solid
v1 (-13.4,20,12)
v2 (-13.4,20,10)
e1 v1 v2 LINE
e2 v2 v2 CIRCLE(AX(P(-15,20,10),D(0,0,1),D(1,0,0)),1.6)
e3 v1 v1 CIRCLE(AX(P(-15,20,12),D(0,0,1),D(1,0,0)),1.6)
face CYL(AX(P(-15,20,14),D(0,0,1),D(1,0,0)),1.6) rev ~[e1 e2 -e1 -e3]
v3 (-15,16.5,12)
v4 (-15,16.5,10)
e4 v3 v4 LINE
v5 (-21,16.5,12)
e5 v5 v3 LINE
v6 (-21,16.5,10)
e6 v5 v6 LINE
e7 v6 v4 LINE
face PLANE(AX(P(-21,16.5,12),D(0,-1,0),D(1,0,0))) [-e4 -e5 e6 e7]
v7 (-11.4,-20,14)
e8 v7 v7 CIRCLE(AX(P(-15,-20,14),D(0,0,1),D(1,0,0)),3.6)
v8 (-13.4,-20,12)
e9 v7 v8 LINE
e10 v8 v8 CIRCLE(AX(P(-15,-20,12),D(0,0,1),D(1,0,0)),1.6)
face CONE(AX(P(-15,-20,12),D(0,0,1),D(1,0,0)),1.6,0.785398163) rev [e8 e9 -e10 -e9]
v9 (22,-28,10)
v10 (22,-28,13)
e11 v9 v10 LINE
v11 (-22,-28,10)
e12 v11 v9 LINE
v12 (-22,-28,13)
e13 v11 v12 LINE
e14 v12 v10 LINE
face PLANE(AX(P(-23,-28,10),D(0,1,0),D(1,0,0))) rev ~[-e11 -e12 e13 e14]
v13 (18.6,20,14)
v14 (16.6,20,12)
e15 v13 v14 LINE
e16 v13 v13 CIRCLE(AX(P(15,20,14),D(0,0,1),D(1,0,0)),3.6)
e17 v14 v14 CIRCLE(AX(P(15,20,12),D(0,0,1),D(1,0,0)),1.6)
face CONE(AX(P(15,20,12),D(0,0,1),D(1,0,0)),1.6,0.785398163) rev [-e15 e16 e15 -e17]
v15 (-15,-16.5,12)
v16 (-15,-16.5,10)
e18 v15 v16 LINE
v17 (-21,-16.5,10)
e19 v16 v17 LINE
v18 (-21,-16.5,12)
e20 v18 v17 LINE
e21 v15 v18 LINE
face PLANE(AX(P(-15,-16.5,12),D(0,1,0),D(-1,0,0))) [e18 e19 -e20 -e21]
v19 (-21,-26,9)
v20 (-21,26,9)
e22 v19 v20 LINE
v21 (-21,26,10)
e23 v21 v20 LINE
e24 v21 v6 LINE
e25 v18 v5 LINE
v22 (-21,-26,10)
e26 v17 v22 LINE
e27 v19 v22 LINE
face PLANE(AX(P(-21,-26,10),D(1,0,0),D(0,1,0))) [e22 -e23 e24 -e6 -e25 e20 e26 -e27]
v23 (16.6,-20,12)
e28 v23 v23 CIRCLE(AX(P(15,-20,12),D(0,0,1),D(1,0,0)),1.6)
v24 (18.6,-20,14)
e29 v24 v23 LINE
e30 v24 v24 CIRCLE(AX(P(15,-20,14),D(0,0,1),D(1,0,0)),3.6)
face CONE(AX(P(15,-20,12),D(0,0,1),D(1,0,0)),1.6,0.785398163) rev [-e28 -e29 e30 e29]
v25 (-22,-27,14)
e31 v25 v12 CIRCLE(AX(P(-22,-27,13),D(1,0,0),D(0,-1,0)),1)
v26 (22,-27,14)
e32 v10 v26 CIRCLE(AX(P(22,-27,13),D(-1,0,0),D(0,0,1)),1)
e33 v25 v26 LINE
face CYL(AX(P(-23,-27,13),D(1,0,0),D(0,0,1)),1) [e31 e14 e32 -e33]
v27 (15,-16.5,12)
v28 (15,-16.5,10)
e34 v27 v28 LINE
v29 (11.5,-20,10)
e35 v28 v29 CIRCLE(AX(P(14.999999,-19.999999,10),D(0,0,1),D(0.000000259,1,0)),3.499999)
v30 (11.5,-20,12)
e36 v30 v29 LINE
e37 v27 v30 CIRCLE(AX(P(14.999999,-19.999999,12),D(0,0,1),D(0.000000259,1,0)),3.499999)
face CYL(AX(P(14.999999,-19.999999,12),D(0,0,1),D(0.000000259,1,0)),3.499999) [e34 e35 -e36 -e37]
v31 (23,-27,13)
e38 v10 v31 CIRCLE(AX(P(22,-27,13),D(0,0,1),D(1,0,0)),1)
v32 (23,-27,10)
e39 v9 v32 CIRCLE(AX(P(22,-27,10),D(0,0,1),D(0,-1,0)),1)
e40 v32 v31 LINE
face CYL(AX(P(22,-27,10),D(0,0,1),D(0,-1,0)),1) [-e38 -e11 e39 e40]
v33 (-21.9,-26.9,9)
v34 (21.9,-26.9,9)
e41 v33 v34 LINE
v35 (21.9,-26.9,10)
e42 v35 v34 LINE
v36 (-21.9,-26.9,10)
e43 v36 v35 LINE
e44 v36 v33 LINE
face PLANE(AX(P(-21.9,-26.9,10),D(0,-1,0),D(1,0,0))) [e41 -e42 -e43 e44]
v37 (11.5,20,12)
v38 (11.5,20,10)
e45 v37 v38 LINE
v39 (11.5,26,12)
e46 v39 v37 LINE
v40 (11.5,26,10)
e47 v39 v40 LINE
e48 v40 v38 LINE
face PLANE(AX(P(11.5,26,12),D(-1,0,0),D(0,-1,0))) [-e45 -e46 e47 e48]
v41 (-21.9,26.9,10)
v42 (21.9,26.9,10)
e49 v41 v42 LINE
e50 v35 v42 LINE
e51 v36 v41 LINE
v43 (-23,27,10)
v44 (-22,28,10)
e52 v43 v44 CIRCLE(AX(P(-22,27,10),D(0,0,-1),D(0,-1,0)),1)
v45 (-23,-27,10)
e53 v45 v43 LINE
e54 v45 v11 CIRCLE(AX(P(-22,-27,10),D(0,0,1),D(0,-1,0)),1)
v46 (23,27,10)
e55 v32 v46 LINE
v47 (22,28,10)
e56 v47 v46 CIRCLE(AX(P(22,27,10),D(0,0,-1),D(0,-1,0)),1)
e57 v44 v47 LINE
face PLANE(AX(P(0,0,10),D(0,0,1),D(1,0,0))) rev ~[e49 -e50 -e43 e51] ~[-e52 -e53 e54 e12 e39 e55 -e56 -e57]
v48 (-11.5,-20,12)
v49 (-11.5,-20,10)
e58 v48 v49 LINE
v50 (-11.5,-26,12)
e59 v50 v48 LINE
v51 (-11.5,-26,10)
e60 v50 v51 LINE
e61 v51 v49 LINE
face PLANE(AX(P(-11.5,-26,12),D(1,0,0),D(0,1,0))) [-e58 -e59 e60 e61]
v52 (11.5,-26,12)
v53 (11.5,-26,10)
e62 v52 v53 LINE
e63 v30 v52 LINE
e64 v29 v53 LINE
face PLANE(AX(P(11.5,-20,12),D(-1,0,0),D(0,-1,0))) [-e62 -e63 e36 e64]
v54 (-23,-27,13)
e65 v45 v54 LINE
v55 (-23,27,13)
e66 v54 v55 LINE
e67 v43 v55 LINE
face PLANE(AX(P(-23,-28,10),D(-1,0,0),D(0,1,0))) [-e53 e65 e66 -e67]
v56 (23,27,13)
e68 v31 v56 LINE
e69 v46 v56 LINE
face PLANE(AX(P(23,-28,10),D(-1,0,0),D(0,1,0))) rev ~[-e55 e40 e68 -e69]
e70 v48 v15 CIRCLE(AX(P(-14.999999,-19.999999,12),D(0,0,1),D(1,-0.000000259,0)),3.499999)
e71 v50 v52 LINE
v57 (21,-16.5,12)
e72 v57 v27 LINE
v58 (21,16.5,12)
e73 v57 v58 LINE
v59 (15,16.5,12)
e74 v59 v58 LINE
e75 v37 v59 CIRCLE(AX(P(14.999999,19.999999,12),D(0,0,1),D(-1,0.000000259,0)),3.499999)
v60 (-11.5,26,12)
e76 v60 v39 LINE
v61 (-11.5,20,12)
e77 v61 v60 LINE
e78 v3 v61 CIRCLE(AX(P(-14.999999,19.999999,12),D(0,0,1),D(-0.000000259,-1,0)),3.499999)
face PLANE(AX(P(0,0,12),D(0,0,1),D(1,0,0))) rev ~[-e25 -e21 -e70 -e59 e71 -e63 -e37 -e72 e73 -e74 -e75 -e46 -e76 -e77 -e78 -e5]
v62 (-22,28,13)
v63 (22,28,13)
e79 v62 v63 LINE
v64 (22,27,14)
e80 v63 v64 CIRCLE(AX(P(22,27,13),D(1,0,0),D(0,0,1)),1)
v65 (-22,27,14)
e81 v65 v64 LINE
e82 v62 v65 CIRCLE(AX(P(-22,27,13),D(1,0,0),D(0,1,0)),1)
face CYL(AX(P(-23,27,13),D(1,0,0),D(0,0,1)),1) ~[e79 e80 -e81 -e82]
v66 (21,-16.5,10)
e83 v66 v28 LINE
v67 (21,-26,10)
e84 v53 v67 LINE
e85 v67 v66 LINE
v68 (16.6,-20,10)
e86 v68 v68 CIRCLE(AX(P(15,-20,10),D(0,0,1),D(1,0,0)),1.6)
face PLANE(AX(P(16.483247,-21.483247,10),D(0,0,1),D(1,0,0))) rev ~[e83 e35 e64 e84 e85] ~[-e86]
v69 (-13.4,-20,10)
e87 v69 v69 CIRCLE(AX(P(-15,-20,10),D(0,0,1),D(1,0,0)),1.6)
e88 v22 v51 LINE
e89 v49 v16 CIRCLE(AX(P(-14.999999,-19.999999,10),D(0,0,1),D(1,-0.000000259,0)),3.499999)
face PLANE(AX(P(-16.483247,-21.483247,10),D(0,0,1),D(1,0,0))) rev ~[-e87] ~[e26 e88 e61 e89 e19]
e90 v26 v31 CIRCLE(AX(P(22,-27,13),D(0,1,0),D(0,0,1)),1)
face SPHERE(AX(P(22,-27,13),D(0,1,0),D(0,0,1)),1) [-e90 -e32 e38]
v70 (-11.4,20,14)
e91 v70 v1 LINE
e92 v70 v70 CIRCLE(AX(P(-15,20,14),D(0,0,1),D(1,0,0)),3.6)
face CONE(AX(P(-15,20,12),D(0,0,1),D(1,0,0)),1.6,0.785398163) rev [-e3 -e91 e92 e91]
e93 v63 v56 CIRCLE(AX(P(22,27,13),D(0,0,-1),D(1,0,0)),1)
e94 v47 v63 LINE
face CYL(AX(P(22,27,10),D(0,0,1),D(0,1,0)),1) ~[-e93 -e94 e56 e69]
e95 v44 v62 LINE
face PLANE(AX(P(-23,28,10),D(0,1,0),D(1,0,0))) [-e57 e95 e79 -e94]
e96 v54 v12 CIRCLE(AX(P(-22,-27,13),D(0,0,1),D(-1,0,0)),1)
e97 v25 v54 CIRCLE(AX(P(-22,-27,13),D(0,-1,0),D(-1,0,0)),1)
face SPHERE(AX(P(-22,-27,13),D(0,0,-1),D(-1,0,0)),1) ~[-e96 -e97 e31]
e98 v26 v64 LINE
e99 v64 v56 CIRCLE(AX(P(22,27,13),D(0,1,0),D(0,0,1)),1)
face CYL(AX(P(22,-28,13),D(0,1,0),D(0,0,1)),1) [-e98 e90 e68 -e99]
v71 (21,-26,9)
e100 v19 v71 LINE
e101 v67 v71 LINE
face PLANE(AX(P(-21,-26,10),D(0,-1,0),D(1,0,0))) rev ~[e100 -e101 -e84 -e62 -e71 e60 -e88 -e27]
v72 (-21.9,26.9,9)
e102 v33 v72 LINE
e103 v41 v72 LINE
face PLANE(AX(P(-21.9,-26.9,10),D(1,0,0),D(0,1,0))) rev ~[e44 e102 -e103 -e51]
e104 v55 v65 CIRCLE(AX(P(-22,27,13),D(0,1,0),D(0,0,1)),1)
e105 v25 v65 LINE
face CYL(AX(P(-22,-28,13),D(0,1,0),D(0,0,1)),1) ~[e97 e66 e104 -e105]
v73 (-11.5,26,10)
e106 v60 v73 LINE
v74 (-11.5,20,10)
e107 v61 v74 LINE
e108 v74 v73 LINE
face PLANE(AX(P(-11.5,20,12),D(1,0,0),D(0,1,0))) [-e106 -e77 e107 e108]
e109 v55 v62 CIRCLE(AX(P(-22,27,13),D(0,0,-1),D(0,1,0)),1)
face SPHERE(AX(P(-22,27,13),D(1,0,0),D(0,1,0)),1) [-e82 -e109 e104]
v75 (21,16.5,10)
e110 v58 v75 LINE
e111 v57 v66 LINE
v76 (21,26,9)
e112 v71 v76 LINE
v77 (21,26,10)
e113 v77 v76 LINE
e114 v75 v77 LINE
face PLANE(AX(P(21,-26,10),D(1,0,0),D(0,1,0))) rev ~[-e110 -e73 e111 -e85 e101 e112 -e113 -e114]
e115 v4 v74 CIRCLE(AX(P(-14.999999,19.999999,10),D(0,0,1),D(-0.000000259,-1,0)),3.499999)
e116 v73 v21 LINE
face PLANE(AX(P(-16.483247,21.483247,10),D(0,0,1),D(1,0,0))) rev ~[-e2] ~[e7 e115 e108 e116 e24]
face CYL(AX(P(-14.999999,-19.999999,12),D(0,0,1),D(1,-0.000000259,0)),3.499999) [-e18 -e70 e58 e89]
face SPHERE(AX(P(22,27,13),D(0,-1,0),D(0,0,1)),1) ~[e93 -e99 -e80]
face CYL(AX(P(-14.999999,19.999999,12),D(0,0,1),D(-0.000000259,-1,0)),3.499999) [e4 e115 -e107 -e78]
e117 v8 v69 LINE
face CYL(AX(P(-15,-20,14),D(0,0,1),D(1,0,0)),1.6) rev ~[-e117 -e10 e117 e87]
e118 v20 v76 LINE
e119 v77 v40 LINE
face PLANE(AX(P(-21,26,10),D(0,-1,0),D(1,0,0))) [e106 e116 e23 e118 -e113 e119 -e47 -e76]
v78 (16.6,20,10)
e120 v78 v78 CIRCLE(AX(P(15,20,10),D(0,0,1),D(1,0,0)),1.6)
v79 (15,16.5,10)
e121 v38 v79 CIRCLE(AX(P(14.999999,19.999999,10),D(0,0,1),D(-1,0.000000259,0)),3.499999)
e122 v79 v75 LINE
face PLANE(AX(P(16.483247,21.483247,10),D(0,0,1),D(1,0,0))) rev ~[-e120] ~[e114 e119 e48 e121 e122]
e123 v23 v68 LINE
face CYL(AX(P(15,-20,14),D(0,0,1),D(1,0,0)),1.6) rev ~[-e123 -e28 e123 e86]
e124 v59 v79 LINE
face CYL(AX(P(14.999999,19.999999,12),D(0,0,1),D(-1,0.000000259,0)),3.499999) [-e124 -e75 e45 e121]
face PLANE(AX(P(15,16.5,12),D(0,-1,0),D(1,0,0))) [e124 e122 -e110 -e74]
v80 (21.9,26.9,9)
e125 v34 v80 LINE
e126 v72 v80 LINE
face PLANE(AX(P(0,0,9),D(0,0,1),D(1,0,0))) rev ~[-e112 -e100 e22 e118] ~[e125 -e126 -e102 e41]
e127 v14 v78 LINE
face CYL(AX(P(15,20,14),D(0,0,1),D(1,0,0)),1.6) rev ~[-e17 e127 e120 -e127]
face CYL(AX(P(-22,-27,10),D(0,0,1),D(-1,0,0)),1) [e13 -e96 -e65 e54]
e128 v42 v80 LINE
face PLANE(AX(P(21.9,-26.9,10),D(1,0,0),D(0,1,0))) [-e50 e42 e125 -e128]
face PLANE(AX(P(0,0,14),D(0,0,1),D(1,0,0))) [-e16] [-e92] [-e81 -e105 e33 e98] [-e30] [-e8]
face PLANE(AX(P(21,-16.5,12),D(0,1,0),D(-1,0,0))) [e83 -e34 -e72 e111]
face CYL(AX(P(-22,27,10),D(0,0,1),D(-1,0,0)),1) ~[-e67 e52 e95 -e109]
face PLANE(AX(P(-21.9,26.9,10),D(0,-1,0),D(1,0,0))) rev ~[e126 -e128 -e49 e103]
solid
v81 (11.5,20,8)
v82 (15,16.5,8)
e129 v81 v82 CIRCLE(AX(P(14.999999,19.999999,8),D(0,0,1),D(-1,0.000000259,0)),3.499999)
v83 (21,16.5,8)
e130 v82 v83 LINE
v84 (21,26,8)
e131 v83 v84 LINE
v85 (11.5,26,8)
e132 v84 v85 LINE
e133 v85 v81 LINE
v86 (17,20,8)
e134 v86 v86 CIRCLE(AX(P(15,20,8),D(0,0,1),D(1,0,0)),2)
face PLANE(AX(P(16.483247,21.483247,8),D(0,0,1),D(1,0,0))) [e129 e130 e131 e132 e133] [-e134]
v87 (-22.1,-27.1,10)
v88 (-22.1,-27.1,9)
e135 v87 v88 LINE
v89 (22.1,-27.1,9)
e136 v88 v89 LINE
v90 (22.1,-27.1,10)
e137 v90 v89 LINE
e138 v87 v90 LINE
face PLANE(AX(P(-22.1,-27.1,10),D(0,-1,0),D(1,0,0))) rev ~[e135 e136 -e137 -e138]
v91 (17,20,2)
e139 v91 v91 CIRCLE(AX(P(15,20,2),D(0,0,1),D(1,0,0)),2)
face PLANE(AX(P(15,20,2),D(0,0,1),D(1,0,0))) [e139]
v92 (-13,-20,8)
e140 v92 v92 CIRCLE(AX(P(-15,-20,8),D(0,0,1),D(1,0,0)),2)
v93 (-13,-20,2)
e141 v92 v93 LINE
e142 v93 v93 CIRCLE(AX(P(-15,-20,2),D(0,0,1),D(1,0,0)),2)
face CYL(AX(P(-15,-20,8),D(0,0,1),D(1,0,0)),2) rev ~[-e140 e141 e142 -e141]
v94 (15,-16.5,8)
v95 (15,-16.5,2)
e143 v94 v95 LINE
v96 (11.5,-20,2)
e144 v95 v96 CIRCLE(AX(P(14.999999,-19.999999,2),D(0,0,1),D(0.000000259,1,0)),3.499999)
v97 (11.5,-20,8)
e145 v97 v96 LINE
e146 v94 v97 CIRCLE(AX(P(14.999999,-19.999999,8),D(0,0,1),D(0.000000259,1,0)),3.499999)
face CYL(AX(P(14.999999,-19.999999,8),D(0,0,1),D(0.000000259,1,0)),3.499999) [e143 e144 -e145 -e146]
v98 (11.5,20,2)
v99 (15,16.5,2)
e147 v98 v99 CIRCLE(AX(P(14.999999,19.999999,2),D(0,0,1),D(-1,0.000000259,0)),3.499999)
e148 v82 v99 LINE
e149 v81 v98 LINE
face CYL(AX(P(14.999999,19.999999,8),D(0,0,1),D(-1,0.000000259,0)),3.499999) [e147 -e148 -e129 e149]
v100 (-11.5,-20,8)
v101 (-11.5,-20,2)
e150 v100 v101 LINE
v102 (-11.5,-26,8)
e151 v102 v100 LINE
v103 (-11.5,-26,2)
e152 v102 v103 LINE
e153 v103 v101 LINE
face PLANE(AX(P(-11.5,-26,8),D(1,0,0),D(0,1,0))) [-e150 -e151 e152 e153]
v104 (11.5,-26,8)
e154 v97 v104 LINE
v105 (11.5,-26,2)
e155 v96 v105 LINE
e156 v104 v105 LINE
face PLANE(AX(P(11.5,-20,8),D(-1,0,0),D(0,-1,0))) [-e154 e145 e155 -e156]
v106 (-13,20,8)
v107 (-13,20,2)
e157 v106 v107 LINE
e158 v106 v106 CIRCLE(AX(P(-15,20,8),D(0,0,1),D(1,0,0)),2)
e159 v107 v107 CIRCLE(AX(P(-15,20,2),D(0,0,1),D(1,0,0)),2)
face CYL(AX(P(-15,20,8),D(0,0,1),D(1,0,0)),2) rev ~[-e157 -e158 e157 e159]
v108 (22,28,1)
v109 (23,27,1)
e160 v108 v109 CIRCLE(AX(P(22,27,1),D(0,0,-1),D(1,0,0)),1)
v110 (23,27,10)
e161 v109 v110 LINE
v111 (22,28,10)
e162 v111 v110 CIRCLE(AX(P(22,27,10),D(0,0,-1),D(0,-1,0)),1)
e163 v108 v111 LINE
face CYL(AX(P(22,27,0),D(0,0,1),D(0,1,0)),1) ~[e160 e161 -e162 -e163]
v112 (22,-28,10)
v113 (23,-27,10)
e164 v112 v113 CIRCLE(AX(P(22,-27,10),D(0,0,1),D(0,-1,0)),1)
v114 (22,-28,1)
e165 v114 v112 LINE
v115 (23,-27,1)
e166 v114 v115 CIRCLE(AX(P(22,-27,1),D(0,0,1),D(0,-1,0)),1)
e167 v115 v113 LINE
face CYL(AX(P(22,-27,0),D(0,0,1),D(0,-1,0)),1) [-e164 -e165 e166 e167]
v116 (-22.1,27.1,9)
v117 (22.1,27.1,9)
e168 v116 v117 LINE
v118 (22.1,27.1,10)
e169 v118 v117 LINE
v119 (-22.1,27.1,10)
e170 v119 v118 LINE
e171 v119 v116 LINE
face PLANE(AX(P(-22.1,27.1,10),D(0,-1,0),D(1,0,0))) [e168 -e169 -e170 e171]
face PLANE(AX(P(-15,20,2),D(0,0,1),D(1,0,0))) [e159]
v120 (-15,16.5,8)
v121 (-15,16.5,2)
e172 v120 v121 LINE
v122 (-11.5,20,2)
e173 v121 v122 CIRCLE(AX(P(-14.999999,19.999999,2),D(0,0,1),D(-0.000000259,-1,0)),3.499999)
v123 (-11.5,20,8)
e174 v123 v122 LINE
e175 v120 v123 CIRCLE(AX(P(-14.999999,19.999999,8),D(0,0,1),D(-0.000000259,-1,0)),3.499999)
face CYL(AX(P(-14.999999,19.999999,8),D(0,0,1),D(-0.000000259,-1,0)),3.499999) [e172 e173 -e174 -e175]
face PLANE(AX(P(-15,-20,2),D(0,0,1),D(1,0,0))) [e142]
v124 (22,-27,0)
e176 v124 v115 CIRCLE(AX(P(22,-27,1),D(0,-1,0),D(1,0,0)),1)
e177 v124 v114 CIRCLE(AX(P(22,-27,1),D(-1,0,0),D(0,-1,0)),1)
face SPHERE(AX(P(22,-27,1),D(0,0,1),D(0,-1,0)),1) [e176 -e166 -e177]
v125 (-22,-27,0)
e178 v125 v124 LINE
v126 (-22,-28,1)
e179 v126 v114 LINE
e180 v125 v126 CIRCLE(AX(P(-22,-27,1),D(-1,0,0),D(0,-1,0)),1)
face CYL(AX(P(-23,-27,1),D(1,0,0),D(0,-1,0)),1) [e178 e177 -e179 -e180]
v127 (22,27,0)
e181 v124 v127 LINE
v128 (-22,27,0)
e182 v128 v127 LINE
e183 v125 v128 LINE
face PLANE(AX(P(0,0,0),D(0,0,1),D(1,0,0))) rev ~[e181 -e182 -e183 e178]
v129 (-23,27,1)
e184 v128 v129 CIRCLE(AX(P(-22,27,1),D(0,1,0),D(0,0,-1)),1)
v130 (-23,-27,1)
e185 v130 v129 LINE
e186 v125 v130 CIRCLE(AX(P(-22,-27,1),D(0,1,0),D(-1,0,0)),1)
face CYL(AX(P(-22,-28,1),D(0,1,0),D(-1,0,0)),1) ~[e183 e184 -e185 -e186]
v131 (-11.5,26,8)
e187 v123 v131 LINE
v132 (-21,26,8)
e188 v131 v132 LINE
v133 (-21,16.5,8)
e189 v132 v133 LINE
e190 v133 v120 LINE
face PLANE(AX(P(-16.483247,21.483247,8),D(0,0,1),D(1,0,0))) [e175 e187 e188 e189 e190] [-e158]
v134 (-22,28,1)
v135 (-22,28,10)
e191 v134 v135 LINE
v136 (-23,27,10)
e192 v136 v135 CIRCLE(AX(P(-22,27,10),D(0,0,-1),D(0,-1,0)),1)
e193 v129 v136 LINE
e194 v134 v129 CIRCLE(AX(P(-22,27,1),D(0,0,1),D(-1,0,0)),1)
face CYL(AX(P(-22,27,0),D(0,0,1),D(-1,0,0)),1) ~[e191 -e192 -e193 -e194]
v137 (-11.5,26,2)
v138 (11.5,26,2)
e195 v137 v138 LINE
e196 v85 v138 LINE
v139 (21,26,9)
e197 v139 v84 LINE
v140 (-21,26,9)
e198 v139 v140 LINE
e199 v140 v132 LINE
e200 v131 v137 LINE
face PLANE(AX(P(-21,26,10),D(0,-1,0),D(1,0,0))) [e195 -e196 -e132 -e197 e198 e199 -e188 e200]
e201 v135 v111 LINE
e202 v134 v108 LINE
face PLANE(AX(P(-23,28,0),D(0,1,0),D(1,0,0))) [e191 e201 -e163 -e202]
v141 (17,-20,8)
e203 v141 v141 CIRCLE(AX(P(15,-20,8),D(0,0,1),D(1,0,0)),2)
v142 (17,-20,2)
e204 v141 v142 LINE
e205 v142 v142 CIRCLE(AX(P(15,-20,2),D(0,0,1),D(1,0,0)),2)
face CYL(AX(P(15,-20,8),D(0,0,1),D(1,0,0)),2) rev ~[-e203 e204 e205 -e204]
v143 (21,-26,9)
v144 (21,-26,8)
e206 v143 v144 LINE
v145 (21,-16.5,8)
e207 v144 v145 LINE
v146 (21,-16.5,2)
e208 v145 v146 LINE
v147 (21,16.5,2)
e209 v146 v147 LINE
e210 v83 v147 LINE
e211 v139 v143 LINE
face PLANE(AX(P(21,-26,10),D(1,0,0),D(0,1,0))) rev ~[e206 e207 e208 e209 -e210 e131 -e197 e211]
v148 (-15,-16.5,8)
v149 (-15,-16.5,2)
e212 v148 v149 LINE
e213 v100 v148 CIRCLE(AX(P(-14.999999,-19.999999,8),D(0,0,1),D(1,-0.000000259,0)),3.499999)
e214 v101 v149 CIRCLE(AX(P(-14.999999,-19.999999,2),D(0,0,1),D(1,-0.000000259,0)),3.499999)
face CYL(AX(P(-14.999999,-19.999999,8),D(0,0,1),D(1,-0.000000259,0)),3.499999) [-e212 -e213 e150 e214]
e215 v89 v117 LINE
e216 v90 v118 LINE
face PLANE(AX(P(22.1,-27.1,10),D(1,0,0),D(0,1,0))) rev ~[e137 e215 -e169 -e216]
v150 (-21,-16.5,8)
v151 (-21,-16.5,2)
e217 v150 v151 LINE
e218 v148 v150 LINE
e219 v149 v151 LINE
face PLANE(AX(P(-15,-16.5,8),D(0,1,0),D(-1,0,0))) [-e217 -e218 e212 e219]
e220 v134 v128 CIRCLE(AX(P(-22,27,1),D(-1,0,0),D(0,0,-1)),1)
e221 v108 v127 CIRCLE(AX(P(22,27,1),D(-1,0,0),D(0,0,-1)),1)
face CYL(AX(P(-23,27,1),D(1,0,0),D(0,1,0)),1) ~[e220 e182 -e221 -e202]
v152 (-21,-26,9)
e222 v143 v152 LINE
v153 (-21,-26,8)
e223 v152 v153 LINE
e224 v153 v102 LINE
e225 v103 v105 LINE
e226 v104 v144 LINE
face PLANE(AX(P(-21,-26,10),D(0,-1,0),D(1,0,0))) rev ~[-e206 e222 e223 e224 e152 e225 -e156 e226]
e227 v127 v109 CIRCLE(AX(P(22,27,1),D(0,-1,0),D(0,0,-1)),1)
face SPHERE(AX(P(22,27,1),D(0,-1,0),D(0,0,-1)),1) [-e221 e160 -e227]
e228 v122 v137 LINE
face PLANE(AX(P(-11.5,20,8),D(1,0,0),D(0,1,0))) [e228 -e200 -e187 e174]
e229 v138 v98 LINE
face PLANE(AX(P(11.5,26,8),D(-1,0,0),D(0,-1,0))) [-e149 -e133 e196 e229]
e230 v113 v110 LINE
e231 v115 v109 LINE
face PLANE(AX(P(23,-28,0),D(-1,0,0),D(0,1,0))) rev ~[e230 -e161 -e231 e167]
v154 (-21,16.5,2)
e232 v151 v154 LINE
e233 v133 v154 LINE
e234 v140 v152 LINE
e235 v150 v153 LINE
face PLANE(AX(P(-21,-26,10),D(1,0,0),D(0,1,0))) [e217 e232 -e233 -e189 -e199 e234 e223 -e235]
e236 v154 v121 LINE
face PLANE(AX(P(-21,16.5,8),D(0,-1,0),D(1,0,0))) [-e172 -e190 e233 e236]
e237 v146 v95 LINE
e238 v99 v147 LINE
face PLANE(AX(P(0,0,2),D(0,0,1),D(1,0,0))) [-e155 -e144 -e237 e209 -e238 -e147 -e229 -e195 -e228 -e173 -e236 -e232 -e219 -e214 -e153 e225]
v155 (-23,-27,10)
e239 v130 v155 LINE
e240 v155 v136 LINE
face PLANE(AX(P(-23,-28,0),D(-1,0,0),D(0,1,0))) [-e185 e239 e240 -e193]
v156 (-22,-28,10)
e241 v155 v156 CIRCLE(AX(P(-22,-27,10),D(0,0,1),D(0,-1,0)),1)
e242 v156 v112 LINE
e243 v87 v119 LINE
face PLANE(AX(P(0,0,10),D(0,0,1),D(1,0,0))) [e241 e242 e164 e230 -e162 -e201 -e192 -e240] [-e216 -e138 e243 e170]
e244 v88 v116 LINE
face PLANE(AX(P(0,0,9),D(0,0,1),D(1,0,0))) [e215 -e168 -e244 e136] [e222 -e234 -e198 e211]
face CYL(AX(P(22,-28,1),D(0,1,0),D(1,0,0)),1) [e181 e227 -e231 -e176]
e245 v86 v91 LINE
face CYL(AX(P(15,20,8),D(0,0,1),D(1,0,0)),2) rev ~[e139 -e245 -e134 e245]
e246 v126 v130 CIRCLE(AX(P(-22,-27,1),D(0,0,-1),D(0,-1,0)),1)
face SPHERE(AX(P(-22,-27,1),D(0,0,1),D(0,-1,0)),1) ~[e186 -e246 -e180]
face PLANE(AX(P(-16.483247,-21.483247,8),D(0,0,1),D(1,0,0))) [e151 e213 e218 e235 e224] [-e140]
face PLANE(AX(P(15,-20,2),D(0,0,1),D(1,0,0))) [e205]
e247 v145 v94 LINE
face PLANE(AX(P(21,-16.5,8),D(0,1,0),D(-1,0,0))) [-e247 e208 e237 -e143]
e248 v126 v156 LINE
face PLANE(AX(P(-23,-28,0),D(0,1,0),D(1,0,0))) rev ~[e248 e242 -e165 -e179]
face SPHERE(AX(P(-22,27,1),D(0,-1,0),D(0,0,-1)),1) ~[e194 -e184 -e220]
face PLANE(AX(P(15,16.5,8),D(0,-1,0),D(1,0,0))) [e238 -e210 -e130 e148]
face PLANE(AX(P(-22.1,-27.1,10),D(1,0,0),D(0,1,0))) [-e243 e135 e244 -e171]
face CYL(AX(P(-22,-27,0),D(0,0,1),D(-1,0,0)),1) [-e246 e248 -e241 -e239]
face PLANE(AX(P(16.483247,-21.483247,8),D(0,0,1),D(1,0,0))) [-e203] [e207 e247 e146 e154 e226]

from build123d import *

# Parameters (mm, degrees)
SKETCH_W        = 46
SKETCH_H        = 56
PAD_DEPTH       = 10
SKETCH001_W     = 42
SKETCH001_H     = 52
POCKET_DEPTH    = 8
SKETCH004_W     = 44.2
SKETCH004_H     = 54.2
POCKET002_DEPTH = 1
PAD004_DEPTH    = 6
SKETCH010_R     = 2
POCKET005_DEPTH = 6
FILLET_R        = 1
SKETCH002_W     = 46
SKETCH002_H     = 56
PAD001_DEPTH    = 4
SKETCH003_W     = 42
SKETCH003_H     = 52
POCKET001_DEPTH = 2
SKETCH005_W     = 43.8
SKETCH005_H     = 53.8
PAD002_DEPTH    = 1
SKETCH006_W     = 42
SKETCH006_H     = 52
POCKET003_DEPTH = 1
PAD005_DEPTH    = 2
SKETCH012_R     = 1.6
POCKET006_DEPTH = 4
FILLET001_R     = 1
CHAMFER_SIZE    = 2


with BuildPart() as boxbottom:
    # Sketch → Pad (new body)
    with BuildSketch(Plane.XY):
        Rectangle(SKETCH_W, SKETCH_H)
    extrude(amount=PAD_DEPTH)

    # Sketch001 (on DatumPlane) → Pocket (cut)
    with BuildSketch(Plane.XY.offset(10)):
        Rectangle(SKETCH001_W, SKETCH001_H)
    extrude(amount=-POCKET_DEPTH, mode=Mode.SUBTRACT)

    # Sketch004 (on DatumPlane) → Pocket002 (cut)
    with BuildSketch(Plane.XY.offset(10)):
        Rectangle(SKETCH004_W, SKETCH004_H)
    extrude(amount=-POCKET002_DEPTH, mode=Mode.SUBTRACT)

    # Sketch009 (on DatumPlane) → Pad004 (join)
    with BuildSketch(Plane.XY.offset(8)):
        with BuildLine():
            ThreePointArc((-11.5, -20), (-12.525126, -17.525126), (-15, -16.5))
            Line((-15, -16.5), (-21, -16.5))
            Line((-21, -16.5), (-21, -26))
            Line((-21, -26), (-11.5, -26))
            Line((-11.5, -26), (-11.5, -20))
        make_face()
        with BuildLine():
            ThreePointArc((15, -16.5), (12.525126, -17.525126), (11.5, -20))
            Line((11.5, -20), (11.5, -26))
            Line((11.5, -26), (21, -26))
            Line((21, -26), (21, -16.5))
            Line((21, -16.5), (15, -16.5))
        make_face()
        with BuildLine():
            ThreePointArc((11.5, 20), (12.525126, 17.525126), (15, 16.5))
            Line((15, 16.5), (21, 16.5))
            Line((21, 16.5), (21, 26))
            Line((21, 26), (11.5, 26))
            Line((11.5, 26), (11.5, 20))
        make_face()
        with BuildLine():
            ThreePointArc((-15, 16.5), (-12.525126, 17.525126), (-11.5, 20))
            Line((-11.5, 20), (-11.5, 26))
            Line((-11.5, 26), (-21, 26))
            Line((-21, 26), (-21, 16.5))
            Line((-21, 16.5), (-15, 16.5))
        make_face()
    extrude(amount=-PAD004_DEPTH)

    # Sketch010 (on DatumPlane) → Pocket005 (cut)
    with BuildSketch(Plane.XY.offset(8)):
        with Locations((15, 20)):
            Circle(SKETCH010_R)
        with Locations((-15, 20)):
            Circle(SKETCH010_R)
        with Locations((-15, -20)):
            Circle(SKETCH010_R)
        with Locations((15, -20)):
            Circle(SKETCH010_R)
    extrude(amount=-POCKET005_DEPTH, mode=Mode.SUBTRACT)

    # Fillet
    fillet_edges = [boxbottom.edges().sort_by_distance(p)[0] for p in [
        (23, -28, 5),
        (-23, -28, 5),
        (0, -28, 0),
        (-23, 0, 0),
        (23, 0, 0),
        (0, 28, 0),
        (23, 28, 5),
        (-23, 28, 5),
    ]]
    fillet(fillet_edges, radius=FILLET_R)


with BuildPart() as boxcover:
    # Sketch002 (on DatumPlane) → Pad001 (new body)
    with BuildSketch(Plane.XY.offset(10)):
        Rectangle(SKETCH002_W, SKETCH002_H)
    extrude(amount=PAD001_DEPTH)

    # Sketch003 (on DatumPlane) → Pocket001 (cut)
    with BuildSketch(Plane.XY.offset(10)):
        Rectangle(SKETCH003_W, SKETCH003_H)
    extrude(amount=POCKET001_DEPTH, mode=Mode.SUBTRACT)

    # Sketch005 (on DatumPlane) → Pad002 (join)
    with BuildSketch(Plane.XY.offset(10)):
        Rectangle(SKETCH005_W, SKETCH005_H)
    extrude(amount=-PAD002_DEPTH)

    # Sketch006 (on DatumPlane) → Pocket003 (cut)
    with BuildSketch(Plane.XY.offset(10)):
        Rectangle(SKETCH006_W, SKETCH006_H)
    extrude(amount=-POCKET003_DEPTH, mode=Mode.SUBTRACT)

    # Sketch011 (on DatumPlane) → Pad005 (join)
    with BuildSketch(Plane.XY.offset(12)):
        with BuildLine():
            ThreePointArc((-15, 16.5), (-12.525126, 17.525126), (-11.5, 20))
            Line((-11.5, 20), (-11.5, 26))
            Line((-11.5, 26), (-21, 26))
            Line((-21, 26), (-21, 16.5))
            Line((-21, 16.5), (-15, 16.5))
        make_face()
        with BuildLine():
            ThreePointArc((-11.5, -20), (-12.525126, -17.525126), (-15, -16.5))
            Line((-15, -16.5), (-21, -16.5))
            Line((-21, -16.5), (-21, -26))
            Line((-21, -26), (-11.5, -26))
            Line((-11.5, -26), (-11.5, -20))
        make_face()
        with BuildLine():
            ThreePointArc((15, -16.5), (12.525126, -17.525126), (11.5, -20))
            Line((11.5, -20), (11.5, -26))
            Line((11.5, -26), (21, -26))
            Line((21, -26), (21, -16.5))
            Line((21, -16.5), (15, -16.5))
        make_face()
        with BuildLine():
            ThreePointArc((11.5, 20), (12.525126, 17.525126), (15, 16.5))
            Line((15, 16.5), (21, 16.5))
            Line((21, 16.5), (21, 26))
            Line((21, 26), (11.5, 26))
            Line((11.5, 26), (11.5, 20))
        make_face()
    extrude(amount=-PAD005_DEPTH)

    # Sketch012 (on DatumPlane) → Pocket006 (cut)
    with BuildSketch(Plane.XY.offset(14)):
        with Locations((-15, 20)):
            Circle(SKETCH012_R)
        with Locations((15, 20)):
            Circle(SKETCH012_R)
        with Locations((15, -20)):
            Circle(SKETCH012_R)
        with Locations((-15, -20)):
            Circle(SKETCH012_R)
    extrude(amount=-POCKET006_DEPTH, mode=Mode.SUBTRACT)

    # Fillet001
    fillet001_edges = [boxcover.edges().sort_by_distance(p)[0] for p in [
        (23, 0, 14),
        (0, 28, 14),
        (23, 28, 12),
        (-23, 28, 12),
        (-23, -28, 12),
        (-23, 0, 14),
        (0, -28, 14),
        (23, -28, 12),
    ]]
    fillet(fillet001_edges, radius=FILLET001_R)

    # Chamfer
    chamfer_edges = [boxcover.edges().sort_by_distance(p)[0] for p in [
        (-16.6, 20, 14),
        (13.4, 20, 14),
        (13.4, -20, 14),
        (-16.6, -20, 14),
    ]]
    chamfer(chamfer_edges, length=CHAMFER_SIZE)


solid = Compound([boxbottom.part, boxcover.part])
